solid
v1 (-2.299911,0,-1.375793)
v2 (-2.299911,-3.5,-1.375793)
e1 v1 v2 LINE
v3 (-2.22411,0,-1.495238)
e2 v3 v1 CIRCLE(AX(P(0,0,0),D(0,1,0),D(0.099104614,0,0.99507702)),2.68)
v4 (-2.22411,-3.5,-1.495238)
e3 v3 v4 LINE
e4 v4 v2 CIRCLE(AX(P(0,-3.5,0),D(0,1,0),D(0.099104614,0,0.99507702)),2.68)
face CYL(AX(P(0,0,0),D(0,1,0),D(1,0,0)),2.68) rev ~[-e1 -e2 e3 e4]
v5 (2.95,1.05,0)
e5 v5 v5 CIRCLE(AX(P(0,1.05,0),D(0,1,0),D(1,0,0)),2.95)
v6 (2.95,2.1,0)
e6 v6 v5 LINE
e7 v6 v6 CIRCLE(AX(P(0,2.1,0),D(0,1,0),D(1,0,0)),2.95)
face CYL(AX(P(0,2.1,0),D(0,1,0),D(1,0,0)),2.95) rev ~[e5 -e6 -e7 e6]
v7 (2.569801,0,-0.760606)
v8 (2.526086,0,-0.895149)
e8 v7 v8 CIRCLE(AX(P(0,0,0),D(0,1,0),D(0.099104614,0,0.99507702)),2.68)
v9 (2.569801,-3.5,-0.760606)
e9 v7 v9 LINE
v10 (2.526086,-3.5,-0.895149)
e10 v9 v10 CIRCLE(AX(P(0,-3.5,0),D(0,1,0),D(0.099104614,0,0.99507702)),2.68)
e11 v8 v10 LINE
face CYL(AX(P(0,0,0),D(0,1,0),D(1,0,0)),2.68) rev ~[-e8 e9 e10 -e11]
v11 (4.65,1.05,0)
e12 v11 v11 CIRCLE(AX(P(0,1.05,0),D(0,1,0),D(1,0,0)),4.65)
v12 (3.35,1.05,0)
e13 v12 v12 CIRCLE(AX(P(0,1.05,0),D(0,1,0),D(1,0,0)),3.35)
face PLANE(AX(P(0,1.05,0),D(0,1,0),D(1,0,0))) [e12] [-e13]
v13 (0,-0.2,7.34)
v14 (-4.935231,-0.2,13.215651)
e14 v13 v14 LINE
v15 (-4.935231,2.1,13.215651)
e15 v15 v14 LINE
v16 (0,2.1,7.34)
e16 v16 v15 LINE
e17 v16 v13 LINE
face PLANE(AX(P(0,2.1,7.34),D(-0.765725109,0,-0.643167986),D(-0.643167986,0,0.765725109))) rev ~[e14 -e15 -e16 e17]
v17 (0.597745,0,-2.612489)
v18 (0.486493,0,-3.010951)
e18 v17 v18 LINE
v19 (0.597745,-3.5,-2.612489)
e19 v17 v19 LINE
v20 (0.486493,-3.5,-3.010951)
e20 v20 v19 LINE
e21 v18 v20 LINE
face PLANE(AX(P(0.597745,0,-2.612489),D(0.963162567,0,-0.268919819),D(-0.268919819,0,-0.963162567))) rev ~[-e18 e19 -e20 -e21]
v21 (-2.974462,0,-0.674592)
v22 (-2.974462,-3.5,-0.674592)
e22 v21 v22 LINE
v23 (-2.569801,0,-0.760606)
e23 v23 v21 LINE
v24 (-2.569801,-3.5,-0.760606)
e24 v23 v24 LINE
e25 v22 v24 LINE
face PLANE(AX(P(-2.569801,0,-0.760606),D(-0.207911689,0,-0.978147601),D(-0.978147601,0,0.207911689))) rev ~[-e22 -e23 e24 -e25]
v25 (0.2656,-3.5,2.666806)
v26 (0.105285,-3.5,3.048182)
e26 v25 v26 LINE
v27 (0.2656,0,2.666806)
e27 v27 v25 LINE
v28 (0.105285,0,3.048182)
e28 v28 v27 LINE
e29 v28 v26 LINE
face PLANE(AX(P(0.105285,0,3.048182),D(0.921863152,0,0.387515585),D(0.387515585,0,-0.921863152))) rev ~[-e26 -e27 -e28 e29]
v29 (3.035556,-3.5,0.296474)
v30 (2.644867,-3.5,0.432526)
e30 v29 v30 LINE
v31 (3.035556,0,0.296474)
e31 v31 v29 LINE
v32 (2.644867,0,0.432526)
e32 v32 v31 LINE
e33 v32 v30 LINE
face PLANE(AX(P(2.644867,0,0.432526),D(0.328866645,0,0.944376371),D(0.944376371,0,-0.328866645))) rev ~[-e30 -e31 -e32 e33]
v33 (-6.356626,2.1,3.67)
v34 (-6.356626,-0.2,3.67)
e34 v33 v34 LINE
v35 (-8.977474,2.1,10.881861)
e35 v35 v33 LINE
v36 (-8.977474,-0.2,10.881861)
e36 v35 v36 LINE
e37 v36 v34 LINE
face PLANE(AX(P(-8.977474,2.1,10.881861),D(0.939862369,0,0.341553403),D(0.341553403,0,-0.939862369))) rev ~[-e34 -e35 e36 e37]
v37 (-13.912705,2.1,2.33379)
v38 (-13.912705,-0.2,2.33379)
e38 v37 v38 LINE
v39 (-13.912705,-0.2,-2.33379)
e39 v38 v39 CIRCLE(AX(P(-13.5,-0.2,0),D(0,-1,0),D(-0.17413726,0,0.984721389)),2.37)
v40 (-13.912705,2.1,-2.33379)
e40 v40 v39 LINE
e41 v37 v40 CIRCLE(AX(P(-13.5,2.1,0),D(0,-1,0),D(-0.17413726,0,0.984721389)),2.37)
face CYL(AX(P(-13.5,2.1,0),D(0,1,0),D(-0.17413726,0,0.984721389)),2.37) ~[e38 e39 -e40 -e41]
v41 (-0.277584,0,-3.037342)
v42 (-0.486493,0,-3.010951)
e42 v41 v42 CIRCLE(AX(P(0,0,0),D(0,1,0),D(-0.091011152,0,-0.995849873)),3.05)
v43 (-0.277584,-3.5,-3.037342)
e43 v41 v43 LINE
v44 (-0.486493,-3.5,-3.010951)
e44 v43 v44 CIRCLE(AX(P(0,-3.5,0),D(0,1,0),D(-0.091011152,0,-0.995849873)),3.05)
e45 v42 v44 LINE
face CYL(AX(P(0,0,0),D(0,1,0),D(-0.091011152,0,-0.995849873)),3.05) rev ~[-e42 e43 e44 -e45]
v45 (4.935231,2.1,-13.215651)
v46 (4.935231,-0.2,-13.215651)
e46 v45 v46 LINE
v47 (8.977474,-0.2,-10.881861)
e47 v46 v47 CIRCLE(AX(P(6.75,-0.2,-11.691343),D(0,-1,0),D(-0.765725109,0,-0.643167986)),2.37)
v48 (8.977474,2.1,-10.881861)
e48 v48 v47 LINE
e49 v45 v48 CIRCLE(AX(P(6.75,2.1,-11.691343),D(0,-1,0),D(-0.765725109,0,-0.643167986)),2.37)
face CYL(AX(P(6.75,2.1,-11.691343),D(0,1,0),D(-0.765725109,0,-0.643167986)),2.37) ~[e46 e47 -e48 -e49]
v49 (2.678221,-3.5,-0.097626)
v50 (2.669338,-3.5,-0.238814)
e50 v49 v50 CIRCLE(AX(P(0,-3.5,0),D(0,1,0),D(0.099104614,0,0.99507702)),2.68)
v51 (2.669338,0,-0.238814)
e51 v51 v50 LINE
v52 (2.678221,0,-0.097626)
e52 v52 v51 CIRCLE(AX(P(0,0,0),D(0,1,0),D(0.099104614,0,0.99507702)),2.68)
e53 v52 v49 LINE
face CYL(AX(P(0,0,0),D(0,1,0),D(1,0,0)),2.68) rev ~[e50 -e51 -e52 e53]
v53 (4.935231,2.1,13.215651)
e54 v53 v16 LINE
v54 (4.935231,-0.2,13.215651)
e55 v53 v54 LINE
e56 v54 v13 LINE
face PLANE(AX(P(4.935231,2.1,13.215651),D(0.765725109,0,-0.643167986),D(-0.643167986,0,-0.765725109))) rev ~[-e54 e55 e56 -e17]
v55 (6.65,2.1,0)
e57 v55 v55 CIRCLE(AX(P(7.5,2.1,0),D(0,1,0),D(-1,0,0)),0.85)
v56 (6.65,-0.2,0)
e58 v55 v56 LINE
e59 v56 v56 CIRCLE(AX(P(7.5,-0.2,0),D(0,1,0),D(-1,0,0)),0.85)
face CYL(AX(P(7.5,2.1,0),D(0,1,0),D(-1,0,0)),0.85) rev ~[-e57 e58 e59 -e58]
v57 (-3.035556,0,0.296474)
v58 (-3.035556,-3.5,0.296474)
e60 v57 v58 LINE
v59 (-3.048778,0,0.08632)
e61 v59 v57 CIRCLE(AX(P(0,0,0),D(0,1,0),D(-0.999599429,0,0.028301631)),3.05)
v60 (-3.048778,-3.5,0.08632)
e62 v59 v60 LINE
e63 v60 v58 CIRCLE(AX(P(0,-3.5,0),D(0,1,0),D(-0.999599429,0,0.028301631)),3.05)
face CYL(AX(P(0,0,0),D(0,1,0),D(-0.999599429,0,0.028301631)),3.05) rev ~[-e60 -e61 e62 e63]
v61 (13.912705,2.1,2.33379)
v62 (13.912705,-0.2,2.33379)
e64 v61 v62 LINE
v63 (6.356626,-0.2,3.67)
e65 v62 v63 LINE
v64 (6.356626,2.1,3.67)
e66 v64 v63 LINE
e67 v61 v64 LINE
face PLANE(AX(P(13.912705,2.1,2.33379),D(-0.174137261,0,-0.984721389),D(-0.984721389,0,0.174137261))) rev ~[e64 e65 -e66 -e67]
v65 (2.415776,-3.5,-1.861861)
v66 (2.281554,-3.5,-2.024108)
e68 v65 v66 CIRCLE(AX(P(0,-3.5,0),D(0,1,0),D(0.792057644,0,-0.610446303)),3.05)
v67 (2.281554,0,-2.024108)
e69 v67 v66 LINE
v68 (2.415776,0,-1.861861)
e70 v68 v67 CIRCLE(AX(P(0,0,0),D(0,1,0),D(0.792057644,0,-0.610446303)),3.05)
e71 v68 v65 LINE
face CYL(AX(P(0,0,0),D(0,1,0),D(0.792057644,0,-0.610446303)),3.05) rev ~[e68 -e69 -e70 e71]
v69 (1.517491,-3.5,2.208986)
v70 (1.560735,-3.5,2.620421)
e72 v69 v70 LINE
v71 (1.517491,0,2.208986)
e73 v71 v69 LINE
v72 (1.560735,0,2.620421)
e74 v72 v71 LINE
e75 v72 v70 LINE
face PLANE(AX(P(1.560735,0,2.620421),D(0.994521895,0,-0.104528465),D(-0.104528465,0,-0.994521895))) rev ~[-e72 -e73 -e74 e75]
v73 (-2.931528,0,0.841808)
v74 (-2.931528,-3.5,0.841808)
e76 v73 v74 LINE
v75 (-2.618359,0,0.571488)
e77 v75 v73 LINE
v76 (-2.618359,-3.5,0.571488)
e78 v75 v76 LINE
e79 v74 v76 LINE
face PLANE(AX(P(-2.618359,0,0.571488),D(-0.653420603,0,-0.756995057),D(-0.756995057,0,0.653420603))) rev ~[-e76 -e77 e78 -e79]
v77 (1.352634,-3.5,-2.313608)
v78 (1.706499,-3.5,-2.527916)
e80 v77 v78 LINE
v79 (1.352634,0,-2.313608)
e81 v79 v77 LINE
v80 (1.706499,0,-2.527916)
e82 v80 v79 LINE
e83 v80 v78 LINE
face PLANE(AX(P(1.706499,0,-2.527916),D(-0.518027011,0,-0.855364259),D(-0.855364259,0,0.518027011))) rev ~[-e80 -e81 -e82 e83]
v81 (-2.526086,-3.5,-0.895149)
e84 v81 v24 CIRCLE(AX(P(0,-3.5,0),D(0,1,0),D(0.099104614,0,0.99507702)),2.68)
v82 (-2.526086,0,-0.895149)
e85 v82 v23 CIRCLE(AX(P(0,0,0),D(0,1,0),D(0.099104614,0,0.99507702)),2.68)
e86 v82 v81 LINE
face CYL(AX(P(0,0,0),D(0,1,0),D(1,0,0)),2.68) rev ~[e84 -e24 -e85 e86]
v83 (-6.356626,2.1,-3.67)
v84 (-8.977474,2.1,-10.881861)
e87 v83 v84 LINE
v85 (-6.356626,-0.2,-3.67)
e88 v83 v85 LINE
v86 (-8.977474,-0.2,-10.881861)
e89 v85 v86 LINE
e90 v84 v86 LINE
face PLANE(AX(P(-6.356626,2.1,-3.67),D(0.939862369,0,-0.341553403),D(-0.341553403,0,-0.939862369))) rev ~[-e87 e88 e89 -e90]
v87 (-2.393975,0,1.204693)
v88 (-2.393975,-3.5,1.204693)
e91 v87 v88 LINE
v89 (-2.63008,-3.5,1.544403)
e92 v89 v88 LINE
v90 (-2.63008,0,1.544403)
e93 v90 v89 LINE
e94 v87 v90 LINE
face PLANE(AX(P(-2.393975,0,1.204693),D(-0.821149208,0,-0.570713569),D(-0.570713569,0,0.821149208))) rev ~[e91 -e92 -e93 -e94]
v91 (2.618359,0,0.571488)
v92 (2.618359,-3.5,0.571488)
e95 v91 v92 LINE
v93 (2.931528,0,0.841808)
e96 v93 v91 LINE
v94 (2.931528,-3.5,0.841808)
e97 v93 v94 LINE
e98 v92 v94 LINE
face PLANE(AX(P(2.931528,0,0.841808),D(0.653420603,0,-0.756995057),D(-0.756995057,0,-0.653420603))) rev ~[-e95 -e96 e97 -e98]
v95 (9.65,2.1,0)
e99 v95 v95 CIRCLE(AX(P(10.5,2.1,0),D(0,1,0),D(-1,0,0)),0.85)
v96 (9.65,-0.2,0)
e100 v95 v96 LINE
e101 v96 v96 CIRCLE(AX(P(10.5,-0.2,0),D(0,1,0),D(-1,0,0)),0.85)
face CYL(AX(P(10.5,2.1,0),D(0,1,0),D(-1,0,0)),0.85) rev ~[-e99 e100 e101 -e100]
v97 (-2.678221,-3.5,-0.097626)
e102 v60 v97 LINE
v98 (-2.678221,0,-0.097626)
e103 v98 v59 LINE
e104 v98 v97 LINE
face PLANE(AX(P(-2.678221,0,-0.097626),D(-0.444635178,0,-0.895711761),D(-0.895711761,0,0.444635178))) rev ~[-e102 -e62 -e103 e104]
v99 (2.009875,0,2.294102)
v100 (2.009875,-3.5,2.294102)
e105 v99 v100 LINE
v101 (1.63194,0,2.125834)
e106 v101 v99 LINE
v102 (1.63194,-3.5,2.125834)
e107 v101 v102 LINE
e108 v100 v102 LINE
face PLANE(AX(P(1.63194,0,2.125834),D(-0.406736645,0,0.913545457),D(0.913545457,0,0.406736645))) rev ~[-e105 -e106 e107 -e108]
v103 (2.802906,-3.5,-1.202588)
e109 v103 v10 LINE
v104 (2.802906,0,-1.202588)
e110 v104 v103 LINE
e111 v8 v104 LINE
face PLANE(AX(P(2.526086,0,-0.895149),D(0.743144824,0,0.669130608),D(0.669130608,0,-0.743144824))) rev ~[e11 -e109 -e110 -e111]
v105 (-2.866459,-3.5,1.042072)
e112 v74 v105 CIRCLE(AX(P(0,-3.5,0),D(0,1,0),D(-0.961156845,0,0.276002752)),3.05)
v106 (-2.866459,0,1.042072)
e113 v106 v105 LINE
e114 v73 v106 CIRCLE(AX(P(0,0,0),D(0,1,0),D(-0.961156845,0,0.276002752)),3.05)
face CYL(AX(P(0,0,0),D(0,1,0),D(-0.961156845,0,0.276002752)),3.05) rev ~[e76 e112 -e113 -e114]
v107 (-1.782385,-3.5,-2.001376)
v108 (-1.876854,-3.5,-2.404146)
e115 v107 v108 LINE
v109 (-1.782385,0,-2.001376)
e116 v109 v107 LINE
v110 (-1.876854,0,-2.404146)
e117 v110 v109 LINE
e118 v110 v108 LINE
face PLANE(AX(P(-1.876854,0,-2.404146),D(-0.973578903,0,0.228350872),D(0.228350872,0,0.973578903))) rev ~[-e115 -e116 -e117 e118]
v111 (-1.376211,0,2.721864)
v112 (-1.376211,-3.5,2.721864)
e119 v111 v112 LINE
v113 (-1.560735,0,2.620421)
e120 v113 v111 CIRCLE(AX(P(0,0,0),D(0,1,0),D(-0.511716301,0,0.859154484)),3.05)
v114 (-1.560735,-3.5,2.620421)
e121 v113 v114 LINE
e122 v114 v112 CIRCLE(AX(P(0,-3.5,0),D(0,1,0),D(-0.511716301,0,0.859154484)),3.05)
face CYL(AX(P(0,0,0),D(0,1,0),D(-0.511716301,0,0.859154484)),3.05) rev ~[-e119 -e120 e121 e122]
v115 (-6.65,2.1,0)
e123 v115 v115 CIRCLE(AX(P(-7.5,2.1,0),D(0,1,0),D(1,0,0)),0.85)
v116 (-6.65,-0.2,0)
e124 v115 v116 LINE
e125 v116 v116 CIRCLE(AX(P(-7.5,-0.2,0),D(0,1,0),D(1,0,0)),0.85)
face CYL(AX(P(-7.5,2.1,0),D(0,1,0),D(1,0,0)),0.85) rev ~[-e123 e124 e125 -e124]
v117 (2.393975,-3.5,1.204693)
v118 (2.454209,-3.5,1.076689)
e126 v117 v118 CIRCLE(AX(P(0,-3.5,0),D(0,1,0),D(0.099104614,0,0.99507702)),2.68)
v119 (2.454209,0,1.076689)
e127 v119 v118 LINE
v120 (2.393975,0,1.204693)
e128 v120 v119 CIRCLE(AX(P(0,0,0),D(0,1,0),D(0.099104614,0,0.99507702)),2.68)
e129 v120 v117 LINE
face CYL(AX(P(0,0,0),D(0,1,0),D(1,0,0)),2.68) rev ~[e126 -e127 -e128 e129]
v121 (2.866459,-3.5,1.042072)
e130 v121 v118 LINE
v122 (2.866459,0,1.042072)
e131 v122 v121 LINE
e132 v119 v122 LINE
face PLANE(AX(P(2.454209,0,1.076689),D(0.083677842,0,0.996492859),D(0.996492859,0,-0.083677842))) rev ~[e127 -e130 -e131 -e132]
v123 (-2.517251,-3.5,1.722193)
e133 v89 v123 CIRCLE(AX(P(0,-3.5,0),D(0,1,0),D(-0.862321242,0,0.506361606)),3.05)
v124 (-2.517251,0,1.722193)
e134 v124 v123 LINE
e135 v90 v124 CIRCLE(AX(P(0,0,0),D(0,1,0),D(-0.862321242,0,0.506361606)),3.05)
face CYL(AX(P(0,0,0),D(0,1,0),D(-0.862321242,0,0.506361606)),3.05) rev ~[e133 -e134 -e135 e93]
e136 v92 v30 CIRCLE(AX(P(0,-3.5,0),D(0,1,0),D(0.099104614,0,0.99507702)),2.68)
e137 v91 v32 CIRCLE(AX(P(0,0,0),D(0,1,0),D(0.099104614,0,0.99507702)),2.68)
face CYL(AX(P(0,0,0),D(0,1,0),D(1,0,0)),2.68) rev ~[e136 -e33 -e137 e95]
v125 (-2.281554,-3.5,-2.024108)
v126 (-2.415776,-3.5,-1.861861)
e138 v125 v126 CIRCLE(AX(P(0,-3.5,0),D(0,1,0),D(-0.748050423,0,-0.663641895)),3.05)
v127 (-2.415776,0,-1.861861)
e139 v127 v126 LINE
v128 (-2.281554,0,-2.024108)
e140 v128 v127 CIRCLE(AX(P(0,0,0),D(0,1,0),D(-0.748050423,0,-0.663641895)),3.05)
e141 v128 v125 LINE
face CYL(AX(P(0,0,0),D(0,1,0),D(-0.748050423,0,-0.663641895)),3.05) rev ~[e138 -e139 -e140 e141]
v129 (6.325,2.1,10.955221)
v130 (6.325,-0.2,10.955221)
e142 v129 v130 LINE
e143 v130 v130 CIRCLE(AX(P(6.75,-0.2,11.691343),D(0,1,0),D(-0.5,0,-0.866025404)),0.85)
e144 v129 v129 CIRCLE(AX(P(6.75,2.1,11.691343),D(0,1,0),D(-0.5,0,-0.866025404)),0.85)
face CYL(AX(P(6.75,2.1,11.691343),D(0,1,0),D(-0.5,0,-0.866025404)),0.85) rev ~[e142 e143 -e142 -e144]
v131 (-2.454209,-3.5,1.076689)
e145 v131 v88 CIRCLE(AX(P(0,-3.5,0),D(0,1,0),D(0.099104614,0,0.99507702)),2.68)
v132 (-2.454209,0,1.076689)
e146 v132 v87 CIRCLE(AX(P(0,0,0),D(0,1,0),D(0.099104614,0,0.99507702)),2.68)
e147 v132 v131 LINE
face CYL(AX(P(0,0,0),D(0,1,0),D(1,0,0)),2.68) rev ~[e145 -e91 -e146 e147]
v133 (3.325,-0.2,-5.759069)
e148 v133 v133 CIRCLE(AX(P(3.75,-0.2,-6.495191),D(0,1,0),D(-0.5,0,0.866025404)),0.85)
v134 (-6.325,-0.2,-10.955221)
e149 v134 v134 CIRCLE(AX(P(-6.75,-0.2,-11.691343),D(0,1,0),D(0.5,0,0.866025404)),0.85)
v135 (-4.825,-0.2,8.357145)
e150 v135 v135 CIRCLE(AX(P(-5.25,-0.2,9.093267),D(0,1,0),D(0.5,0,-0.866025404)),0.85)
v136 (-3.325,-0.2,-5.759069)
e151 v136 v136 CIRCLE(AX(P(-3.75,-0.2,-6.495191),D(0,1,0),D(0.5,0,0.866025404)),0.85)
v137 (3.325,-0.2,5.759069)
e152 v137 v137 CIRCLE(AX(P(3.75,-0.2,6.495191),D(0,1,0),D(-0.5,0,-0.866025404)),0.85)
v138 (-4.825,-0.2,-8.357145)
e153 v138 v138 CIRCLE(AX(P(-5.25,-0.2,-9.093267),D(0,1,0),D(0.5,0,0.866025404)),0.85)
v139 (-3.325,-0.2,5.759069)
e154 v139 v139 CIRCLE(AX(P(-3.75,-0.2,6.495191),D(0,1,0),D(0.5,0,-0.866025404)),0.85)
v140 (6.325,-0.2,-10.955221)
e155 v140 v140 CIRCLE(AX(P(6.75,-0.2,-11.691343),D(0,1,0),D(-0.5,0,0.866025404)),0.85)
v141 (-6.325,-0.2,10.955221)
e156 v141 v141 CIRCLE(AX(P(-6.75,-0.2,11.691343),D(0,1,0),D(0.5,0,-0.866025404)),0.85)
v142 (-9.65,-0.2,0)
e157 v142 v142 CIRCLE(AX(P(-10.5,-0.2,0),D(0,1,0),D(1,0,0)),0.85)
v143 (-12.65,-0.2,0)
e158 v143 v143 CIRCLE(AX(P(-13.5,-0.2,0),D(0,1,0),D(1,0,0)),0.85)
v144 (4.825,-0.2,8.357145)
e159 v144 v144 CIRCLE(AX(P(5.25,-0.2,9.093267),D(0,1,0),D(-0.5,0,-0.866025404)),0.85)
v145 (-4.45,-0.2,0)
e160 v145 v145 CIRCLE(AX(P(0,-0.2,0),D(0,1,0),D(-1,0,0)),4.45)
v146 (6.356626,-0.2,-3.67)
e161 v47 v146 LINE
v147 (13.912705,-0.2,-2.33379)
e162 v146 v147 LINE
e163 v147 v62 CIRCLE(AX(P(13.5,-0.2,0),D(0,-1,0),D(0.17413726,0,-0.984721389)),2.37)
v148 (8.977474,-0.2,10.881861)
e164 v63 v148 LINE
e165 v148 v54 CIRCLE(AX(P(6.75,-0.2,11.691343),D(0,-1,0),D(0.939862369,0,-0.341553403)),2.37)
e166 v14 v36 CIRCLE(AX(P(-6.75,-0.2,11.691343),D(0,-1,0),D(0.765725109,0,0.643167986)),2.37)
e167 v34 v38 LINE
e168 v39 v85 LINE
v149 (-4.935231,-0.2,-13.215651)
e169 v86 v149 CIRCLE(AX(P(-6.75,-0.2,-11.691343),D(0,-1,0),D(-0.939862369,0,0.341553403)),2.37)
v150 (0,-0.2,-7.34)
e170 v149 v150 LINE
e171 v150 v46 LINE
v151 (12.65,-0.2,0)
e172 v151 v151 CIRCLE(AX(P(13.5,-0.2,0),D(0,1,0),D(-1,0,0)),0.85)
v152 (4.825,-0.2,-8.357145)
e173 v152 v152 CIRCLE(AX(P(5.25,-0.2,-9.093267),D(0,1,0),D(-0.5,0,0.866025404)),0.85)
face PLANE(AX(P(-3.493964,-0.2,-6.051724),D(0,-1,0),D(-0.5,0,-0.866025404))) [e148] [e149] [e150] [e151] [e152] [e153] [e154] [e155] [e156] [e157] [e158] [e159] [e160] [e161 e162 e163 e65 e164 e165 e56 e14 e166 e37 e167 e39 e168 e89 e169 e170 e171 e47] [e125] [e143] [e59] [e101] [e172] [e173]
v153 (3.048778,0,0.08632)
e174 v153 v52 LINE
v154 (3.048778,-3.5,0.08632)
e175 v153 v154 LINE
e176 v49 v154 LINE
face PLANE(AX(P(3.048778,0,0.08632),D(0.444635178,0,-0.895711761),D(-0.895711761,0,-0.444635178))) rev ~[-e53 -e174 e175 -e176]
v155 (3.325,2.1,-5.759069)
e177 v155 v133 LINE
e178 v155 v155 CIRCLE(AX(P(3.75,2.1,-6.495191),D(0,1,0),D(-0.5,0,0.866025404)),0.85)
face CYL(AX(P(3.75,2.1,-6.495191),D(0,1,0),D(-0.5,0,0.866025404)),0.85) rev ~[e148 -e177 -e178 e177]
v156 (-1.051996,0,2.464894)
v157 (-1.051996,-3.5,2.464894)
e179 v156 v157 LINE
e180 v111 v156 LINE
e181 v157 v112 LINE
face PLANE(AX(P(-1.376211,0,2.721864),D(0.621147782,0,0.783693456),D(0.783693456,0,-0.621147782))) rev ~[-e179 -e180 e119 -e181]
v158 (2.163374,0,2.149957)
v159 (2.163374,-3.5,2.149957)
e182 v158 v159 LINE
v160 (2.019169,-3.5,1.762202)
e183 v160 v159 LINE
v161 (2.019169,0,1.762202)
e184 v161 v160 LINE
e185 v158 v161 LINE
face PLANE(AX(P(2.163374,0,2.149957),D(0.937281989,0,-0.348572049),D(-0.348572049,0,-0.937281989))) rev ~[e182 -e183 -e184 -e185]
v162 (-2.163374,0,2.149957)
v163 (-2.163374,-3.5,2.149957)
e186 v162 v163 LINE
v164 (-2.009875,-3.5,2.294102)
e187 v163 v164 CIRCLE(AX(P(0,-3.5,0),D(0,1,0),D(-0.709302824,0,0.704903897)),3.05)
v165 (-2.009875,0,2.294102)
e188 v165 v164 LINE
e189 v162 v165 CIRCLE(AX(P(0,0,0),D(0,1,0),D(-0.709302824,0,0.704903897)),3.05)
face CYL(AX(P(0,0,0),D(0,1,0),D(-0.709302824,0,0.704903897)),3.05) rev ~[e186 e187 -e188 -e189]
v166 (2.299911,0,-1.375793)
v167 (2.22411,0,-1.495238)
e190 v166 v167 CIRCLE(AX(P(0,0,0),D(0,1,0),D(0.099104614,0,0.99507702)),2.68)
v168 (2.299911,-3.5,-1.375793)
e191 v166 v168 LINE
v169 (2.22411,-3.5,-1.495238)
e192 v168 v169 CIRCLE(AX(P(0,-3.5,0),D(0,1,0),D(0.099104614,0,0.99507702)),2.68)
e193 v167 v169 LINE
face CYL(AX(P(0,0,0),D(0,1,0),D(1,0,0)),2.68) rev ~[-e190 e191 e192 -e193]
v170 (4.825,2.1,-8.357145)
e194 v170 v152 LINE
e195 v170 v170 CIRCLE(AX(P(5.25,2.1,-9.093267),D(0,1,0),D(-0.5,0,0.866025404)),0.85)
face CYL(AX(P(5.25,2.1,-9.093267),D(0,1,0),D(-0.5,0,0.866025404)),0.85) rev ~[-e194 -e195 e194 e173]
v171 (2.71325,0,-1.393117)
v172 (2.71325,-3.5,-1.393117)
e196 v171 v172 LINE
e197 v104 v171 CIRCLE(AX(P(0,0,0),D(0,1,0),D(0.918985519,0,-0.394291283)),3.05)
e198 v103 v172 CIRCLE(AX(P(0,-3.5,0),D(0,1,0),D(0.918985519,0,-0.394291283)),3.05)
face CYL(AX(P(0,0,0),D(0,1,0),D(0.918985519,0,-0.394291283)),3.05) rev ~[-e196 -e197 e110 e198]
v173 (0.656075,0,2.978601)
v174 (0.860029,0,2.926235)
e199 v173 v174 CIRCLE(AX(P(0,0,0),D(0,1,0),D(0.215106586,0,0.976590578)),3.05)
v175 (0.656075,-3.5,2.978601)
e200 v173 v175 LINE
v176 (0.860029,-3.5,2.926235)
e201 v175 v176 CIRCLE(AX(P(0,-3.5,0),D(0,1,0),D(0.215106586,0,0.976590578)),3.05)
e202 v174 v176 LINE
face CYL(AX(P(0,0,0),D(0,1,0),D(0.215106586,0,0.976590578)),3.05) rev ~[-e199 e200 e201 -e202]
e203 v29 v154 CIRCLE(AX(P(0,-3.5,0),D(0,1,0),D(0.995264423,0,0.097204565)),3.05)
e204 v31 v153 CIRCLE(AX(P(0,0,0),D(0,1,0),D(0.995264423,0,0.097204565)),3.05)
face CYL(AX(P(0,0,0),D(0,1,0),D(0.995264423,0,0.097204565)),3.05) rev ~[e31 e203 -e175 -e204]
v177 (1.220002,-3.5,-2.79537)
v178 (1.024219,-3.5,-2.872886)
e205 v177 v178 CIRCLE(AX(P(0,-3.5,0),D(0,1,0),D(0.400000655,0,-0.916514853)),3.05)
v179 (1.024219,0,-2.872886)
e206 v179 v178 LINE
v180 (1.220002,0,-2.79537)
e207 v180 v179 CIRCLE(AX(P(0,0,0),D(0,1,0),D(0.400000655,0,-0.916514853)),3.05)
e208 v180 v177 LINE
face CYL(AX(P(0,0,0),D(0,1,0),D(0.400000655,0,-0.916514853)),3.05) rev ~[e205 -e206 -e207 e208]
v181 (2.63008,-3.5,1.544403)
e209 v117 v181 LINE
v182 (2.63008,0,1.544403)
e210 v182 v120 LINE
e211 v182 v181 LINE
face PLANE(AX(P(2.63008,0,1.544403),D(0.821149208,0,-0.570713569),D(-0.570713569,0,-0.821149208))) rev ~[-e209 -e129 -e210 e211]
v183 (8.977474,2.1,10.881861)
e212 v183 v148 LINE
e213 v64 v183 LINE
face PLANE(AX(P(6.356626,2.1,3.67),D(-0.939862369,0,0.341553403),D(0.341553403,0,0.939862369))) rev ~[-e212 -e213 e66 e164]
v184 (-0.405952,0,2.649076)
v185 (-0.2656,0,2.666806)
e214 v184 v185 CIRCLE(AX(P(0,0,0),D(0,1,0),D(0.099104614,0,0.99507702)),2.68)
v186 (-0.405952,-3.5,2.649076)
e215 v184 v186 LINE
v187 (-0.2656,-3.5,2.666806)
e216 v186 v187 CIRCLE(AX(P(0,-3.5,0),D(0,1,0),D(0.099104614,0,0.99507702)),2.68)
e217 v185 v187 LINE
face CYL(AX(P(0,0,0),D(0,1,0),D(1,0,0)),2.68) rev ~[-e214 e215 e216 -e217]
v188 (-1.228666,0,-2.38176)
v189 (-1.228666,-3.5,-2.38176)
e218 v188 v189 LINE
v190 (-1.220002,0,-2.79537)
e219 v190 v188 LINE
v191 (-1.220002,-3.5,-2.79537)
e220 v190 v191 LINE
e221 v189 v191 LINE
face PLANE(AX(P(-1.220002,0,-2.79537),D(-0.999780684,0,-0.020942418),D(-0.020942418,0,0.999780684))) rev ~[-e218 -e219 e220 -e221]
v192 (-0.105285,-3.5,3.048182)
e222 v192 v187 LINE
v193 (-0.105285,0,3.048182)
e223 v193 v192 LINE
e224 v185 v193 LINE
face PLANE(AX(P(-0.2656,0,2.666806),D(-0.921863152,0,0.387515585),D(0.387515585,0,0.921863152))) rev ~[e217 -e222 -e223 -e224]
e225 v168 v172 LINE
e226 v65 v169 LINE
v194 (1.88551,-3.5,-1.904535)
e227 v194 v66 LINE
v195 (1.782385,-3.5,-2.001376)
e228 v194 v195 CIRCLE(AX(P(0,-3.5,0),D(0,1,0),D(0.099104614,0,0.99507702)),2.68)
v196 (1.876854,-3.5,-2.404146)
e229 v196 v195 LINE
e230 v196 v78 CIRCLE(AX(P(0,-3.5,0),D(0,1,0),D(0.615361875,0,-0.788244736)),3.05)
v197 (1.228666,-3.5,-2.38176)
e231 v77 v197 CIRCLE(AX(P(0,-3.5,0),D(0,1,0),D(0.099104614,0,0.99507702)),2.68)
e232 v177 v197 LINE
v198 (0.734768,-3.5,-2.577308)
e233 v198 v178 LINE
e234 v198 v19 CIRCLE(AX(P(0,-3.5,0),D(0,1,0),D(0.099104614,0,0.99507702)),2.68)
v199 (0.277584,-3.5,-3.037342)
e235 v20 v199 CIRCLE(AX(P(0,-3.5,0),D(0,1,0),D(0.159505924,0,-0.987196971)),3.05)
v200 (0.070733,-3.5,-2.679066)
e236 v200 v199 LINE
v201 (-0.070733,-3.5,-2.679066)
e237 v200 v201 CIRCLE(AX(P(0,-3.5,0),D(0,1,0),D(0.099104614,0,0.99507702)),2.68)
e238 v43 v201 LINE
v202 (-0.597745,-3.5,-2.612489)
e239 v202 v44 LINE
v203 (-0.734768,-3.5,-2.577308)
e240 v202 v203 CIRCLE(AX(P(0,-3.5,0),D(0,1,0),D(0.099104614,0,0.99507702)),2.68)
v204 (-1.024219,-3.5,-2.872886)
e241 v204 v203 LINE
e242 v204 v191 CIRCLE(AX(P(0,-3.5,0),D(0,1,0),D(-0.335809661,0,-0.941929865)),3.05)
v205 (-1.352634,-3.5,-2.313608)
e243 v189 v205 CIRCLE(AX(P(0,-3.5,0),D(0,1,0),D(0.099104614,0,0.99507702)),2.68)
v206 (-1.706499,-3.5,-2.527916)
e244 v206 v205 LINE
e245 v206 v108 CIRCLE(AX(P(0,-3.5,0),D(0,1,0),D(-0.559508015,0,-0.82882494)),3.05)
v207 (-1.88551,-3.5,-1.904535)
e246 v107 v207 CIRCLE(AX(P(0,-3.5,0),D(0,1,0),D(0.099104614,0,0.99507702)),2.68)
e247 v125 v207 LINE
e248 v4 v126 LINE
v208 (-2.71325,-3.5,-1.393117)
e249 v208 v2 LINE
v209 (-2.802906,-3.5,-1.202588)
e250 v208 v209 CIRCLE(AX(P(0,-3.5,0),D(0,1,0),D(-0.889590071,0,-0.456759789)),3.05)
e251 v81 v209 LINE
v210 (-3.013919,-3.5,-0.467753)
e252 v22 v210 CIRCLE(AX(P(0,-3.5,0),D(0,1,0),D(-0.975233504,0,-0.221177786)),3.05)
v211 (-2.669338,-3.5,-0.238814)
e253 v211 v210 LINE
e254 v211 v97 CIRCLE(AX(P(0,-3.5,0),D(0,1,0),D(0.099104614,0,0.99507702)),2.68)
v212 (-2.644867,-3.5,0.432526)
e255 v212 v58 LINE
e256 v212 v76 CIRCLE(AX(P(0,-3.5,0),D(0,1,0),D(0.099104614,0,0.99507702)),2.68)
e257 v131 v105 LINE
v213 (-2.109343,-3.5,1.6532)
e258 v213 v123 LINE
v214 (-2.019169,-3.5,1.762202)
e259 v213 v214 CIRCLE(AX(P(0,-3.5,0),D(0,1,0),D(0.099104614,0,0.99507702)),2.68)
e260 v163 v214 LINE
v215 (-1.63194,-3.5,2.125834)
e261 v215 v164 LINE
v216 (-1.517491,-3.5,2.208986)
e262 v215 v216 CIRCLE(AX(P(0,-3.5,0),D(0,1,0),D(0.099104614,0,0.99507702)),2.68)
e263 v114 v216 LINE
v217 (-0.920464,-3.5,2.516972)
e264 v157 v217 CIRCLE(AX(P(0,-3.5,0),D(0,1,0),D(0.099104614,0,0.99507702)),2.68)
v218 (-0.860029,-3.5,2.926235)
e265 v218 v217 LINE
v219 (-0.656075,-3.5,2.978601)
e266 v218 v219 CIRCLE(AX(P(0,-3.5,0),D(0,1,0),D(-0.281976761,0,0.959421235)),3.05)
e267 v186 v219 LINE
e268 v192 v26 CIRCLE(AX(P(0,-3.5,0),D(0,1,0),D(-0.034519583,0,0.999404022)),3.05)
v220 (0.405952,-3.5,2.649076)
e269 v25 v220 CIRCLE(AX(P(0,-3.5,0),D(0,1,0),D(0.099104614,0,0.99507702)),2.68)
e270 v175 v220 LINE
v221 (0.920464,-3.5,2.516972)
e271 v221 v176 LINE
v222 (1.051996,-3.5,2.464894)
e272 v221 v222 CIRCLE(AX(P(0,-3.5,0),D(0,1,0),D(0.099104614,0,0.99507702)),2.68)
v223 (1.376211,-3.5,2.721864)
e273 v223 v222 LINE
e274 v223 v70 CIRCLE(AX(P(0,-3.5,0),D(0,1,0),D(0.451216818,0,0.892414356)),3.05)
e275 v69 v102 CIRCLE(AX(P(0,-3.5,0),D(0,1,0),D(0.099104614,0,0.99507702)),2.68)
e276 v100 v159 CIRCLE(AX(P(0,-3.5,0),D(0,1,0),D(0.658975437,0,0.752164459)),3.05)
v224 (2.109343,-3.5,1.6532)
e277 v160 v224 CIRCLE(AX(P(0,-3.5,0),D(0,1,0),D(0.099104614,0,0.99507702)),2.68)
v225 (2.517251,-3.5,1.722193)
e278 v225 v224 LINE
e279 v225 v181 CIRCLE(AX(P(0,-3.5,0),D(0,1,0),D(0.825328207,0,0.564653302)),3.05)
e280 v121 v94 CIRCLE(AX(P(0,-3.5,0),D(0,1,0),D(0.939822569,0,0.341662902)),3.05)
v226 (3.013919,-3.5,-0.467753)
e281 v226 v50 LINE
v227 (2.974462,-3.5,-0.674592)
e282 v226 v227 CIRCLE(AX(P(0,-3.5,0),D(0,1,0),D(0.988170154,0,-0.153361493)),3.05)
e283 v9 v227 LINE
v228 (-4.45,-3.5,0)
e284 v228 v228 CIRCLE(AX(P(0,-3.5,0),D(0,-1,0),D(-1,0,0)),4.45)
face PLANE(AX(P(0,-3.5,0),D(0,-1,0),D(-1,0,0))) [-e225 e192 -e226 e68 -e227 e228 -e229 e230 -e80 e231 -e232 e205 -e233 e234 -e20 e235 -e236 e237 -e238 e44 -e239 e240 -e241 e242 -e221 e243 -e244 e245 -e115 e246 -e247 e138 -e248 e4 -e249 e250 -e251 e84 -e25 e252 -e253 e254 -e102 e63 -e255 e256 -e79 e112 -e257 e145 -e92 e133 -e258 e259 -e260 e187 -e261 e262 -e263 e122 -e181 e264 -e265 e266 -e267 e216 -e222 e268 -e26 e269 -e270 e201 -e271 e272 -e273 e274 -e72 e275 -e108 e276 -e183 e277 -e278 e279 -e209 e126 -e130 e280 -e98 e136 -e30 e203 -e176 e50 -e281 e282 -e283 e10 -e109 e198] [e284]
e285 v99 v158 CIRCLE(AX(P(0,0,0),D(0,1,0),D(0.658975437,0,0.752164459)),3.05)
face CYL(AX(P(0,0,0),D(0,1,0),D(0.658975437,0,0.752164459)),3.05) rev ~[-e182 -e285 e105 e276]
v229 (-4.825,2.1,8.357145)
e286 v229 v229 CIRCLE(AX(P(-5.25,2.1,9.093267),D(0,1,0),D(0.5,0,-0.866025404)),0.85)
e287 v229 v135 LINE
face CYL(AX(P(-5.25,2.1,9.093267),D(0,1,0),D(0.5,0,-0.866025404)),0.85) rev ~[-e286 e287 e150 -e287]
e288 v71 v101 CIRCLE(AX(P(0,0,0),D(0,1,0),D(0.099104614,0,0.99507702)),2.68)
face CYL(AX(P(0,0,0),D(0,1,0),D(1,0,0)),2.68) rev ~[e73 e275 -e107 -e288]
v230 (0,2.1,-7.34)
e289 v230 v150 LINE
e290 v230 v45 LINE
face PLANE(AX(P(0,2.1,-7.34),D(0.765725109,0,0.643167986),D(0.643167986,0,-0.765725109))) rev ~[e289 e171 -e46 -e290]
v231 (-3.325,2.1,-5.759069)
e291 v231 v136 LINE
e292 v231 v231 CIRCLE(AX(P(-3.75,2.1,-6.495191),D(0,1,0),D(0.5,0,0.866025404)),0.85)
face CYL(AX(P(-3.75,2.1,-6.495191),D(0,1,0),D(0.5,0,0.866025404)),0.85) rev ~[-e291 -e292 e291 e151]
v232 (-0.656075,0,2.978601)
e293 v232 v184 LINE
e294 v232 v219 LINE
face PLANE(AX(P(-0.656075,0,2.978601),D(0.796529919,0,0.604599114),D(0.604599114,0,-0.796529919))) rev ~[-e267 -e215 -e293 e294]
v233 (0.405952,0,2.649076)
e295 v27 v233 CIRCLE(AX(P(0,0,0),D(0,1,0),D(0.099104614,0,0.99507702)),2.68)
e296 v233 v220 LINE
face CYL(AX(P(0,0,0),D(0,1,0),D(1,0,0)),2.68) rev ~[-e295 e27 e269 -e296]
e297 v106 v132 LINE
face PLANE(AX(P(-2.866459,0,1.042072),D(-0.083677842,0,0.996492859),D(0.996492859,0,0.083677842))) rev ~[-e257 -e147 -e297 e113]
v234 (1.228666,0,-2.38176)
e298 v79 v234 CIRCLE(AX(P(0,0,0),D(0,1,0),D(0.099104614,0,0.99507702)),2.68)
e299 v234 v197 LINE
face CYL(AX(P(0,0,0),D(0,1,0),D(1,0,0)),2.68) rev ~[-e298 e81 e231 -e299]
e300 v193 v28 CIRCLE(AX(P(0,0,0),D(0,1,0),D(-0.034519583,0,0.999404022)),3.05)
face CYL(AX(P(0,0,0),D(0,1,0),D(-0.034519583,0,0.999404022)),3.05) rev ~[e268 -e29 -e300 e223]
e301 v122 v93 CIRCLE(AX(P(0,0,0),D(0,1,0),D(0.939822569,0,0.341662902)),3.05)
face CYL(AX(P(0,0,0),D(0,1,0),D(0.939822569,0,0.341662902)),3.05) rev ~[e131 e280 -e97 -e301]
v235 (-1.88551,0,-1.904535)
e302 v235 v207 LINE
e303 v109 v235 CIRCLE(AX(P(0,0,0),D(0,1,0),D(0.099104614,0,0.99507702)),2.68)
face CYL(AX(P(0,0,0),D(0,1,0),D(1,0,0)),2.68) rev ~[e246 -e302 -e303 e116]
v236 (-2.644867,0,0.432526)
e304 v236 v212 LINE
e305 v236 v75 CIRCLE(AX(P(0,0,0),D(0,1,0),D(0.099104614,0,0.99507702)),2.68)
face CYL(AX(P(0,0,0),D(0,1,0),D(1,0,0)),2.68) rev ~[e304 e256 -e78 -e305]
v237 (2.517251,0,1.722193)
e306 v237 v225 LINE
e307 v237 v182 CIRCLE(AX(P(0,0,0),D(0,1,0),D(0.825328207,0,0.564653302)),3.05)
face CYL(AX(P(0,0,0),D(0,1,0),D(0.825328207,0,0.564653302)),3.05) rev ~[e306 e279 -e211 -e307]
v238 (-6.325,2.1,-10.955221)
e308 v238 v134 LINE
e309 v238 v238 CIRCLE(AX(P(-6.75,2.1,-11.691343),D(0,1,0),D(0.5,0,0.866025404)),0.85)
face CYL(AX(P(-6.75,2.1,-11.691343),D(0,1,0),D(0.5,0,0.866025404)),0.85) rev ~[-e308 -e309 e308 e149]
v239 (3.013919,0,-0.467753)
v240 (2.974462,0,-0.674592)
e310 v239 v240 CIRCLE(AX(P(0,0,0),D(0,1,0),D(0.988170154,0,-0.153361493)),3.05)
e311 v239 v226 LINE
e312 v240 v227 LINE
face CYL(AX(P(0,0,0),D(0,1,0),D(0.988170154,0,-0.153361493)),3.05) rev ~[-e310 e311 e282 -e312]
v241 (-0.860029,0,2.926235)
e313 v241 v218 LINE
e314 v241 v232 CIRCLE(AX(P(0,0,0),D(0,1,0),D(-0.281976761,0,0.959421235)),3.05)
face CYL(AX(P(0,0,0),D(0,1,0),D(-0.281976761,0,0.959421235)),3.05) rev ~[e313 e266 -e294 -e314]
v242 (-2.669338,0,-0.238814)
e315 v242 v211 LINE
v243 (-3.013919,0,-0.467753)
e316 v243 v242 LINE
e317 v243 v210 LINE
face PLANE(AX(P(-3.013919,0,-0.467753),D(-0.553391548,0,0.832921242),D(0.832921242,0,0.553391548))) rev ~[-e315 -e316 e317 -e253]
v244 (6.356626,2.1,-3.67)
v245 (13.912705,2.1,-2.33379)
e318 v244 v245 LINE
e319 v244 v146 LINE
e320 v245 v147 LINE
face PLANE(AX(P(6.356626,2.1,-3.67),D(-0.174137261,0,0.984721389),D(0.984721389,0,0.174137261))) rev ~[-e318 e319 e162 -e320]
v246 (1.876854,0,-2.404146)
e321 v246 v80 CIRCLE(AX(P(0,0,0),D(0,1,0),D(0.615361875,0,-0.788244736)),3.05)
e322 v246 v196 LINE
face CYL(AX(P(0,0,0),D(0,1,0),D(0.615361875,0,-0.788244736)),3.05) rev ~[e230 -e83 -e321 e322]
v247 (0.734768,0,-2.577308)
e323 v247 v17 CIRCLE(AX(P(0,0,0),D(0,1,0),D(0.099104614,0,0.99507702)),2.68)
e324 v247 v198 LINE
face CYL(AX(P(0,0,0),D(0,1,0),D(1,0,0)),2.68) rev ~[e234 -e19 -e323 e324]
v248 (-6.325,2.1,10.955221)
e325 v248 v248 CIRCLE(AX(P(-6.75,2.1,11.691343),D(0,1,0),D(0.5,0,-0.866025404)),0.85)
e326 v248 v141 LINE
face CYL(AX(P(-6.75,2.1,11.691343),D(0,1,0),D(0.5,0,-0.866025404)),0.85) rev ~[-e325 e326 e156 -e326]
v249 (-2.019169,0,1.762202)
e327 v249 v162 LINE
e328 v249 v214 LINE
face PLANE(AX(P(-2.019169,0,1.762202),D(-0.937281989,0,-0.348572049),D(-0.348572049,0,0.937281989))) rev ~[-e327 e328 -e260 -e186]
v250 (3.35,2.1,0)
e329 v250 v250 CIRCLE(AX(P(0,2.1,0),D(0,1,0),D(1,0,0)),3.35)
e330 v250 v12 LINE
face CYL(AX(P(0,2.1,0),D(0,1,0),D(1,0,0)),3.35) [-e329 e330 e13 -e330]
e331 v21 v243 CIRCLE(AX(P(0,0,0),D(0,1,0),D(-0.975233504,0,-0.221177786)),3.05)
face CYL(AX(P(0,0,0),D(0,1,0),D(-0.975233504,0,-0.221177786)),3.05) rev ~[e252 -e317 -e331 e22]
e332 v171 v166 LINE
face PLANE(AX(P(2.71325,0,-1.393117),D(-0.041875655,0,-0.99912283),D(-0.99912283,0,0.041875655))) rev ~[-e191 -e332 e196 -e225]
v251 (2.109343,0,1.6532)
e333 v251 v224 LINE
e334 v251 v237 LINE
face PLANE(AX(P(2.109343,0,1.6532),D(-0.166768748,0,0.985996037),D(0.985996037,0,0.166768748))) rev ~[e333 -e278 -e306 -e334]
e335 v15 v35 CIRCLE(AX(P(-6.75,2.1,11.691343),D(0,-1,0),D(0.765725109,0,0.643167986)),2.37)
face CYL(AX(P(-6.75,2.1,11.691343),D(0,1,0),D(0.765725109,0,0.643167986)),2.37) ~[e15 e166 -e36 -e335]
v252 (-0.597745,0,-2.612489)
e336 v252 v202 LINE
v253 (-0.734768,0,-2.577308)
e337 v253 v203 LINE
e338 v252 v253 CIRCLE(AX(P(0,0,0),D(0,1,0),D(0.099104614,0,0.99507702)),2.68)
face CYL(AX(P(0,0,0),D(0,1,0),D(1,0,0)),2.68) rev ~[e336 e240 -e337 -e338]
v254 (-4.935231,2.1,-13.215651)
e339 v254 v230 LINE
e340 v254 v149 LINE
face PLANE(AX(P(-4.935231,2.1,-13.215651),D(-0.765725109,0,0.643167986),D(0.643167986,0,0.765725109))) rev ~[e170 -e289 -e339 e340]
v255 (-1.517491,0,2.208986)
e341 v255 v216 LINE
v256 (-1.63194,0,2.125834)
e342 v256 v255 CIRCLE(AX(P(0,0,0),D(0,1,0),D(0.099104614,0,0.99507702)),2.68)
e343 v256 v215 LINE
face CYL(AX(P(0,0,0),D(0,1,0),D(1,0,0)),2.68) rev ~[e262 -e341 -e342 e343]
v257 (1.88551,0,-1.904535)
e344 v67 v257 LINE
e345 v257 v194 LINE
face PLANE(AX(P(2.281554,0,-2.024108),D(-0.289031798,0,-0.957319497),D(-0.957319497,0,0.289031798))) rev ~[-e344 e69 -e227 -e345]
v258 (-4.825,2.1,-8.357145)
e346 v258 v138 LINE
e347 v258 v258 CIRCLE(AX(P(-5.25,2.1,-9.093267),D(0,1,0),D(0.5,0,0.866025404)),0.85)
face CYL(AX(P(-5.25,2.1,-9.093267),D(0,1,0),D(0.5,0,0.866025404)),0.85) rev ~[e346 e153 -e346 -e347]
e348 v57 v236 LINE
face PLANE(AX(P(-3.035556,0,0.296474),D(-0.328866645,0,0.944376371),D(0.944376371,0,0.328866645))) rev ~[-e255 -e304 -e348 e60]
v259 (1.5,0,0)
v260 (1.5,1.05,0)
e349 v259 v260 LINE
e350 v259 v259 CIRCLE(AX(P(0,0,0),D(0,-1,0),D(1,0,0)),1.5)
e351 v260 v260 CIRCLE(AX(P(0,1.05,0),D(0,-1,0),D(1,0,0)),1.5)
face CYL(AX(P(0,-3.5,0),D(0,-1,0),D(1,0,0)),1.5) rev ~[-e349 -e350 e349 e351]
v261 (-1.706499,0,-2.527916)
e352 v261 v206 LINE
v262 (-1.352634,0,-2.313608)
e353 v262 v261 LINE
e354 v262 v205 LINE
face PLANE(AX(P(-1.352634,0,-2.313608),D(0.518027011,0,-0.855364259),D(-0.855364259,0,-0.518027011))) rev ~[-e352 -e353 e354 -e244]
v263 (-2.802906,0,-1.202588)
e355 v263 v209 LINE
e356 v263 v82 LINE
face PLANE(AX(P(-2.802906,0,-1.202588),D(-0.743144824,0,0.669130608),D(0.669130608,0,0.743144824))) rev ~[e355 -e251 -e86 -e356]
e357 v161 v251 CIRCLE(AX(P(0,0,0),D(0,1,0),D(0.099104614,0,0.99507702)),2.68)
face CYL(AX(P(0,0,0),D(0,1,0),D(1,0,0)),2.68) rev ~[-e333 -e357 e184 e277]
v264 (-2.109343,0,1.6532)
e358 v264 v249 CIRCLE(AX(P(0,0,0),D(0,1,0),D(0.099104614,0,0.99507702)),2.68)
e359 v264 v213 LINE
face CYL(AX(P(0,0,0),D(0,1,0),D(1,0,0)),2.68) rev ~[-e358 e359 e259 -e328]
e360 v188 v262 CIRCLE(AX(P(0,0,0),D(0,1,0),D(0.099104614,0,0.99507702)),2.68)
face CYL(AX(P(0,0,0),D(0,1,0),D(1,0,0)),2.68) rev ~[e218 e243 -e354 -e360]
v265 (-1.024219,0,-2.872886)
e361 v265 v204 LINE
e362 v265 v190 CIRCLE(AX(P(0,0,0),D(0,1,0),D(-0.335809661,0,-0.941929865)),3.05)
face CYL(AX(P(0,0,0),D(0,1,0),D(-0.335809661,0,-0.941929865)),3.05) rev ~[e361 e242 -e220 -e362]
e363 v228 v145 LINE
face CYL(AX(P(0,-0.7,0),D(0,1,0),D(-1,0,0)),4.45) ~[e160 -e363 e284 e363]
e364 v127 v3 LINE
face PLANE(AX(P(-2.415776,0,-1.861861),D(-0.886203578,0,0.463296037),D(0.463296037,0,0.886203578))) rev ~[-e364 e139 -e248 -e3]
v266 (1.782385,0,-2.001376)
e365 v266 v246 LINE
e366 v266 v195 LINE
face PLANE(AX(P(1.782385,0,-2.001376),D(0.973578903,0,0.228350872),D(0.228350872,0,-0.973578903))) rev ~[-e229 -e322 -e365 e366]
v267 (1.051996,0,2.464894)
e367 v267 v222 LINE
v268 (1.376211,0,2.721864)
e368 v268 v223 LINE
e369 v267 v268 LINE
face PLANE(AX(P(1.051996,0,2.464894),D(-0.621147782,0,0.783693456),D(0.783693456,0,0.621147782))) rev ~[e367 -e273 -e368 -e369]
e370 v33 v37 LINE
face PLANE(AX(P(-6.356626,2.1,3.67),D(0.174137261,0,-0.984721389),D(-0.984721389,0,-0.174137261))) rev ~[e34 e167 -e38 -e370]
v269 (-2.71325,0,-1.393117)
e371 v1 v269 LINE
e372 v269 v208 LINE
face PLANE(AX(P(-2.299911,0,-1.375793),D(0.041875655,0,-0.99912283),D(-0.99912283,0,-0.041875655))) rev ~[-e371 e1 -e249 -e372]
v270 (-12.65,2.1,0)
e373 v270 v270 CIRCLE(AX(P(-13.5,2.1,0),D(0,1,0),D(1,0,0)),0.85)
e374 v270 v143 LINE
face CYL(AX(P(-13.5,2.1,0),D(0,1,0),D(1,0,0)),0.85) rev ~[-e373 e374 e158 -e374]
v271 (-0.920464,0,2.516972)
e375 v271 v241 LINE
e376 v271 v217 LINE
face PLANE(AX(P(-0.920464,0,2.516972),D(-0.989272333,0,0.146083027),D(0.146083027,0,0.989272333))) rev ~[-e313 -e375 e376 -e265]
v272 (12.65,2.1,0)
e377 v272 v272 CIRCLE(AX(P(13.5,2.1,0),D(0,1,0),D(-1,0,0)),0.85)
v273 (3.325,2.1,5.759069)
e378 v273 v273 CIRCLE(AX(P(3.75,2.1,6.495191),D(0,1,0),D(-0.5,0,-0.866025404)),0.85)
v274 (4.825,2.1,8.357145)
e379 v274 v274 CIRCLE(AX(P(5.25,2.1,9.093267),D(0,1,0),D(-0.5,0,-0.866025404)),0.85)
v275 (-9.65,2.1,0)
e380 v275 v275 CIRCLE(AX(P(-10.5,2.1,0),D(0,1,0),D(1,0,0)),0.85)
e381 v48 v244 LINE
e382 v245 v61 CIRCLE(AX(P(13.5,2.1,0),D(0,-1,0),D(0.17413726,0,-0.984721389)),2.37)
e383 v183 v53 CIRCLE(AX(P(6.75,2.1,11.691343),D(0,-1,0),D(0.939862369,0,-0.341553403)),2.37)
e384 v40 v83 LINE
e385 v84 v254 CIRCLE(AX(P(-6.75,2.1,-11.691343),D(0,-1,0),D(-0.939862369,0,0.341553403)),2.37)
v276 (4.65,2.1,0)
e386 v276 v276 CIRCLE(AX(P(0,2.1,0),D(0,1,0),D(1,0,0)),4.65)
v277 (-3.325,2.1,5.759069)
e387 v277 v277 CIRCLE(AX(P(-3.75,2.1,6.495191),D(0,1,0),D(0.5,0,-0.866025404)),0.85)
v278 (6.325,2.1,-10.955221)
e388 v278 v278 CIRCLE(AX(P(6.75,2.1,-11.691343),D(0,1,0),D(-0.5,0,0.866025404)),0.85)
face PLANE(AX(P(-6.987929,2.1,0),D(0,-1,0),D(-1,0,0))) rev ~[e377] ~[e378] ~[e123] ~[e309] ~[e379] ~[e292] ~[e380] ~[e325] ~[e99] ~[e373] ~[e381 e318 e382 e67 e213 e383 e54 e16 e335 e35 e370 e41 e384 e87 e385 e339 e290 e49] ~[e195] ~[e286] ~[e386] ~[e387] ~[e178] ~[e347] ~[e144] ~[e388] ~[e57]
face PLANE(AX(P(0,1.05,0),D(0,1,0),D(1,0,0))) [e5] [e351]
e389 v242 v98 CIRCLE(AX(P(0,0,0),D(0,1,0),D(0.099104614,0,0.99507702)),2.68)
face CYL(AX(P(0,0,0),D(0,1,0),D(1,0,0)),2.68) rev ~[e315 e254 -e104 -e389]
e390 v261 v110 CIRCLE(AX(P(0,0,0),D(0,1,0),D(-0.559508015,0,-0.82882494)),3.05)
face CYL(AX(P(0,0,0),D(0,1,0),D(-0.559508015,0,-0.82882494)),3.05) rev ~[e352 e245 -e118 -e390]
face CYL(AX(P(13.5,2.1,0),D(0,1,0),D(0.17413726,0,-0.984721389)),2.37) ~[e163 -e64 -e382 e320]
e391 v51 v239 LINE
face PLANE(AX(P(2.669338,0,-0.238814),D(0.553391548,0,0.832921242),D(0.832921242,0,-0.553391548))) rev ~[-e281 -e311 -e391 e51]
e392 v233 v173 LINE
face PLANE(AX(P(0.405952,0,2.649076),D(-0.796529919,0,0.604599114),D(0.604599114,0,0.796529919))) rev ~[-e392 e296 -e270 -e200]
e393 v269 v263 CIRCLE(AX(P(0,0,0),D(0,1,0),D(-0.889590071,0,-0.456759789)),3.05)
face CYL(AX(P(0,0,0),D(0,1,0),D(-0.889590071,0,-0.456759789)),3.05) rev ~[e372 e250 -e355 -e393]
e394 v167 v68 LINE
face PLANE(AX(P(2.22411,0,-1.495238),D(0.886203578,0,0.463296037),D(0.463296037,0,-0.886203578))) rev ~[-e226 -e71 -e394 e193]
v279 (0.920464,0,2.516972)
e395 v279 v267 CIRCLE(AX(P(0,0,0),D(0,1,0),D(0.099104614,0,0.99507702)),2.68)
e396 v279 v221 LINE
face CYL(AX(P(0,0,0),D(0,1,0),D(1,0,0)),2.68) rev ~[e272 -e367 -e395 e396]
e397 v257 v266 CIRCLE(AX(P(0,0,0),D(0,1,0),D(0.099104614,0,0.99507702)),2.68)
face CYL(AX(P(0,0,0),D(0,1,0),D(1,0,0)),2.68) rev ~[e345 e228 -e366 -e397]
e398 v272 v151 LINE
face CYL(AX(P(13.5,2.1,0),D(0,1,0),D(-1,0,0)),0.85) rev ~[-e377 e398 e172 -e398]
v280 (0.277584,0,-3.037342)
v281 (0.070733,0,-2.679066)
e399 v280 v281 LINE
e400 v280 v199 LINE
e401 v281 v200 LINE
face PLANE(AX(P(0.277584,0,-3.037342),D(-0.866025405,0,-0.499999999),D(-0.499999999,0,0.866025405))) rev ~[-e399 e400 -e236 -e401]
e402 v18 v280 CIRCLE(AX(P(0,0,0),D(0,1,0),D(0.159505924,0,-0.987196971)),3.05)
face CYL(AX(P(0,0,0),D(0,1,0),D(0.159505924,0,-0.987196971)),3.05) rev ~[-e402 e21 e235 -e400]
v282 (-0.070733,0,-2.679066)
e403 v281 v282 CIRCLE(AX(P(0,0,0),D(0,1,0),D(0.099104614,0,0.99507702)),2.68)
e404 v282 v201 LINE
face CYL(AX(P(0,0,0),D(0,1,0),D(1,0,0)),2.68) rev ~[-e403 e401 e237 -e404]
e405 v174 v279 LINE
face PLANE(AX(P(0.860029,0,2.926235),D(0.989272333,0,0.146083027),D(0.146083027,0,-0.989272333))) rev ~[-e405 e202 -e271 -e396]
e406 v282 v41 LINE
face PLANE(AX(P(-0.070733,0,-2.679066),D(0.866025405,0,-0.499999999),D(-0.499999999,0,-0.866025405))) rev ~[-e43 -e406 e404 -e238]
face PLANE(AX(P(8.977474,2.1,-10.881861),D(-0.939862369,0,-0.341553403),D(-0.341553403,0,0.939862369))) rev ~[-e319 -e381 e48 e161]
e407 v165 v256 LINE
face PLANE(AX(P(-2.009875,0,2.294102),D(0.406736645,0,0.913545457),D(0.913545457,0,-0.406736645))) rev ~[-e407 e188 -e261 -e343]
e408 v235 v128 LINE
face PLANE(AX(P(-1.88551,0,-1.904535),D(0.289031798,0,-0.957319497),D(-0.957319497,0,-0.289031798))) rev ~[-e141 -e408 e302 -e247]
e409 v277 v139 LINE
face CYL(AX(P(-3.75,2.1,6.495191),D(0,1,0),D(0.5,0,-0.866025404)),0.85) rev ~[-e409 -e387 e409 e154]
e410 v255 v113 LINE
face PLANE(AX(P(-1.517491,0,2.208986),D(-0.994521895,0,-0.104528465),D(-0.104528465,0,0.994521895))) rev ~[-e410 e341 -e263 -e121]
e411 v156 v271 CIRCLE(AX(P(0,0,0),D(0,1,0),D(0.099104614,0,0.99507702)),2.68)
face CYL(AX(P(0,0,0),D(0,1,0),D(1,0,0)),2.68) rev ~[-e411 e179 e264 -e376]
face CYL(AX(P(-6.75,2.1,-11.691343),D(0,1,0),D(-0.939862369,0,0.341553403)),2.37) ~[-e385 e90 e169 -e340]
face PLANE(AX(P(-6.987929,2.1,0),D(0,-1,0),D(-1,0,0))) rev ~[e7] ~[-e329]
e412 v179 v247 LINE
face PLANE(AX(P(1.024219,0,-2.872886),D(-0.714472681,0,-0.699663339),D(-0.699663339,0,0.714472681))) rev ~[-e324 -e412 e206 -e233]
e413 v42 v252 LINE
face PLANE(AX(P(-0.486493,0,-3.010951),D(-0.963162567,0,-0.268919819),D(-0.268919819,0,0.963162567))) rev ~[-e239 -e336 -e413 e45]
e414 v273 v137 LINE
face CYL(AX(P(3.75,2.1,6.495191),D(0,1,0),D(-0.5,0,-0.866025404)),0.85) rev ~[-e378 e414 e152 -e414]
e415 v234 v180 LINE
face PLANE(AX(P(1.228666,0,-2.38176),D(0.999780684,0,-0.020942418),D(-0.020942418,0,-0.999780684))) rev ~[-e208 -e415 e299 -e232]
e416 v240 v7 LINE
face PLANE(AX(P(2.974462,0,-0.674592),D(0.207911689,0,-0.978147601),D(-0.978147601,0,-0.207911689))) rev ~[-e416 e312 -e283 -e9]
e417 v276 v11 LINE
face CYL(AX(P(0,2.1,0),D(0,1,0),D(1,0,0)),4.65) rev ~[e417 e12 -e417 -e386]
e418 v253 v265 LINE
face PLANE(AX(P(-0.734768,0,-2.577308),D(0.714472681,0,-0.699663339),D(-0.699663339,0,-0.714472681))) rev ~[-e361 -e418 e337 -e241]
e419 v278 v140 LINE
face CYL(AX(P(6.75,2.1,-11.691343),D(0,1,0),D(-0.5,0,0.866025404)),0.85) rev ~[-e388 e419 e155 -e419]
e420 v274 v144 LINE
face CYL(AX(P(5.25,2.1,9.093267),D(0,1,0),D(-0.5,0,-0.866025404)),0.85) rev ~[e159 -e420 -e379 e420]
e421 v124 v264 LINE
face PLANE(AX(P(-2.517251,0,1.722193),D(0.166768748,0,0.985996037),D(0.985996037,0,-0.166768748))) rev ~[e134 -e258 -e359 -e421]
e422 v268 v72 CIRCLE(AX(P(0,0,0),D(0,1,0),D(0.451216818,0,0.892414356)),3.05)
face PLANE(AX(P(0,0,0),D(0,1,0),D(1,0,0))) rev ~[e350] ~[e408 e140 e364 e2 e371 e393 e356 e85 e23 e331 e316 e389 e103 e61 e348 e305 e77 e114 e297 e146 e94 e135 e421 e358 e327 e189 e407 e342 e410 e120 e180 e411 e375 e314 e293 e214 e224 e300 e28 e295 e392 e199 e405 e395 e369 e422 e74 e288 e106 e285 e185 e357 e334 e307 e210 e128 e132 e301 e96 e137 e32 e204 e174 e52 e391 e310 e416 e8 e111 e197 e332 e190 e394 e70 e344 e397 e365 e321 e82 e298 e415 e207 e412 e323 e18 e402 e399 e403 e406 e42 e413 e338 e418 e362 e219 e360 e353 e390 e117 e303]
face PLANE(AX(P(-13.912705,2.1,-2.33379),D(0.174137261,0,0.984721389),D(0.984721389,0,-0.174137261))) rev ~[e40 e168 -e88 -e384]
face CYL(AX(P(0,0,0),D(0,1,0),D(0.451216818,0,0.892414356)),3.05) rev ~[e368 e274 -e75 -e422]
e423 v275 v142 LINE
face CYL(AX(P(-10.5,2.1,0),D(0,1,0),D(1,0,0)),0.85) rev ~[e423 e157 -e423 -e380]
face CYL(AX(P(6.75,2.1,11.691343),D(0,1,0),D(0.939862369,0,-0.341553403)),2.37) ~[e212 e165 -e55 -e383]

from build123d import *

# Parameters (mm, degrees)
ESQUISSE2_W                  = 4.45
ESQUISSE2_H                  = 5.6
ESQUISSE3_R                  = 0.85
BOSS_EXTRU_1_DEPTH           = 2.3
R_P_TITION_CIRCULAIRE2_COUNT = 6
ESQUISSE4_R                  = 2.95
ENL_V_MAT_EXTRU_1_DEPTH      = 1.05
ESQUISSE5_R                  = 4.65
ESQUISSE5_R_2                = 3.35
ENL_V_MAT_EXTRU_2_DEPTH      = 1.05
ESQUISSE6_R                  = 1.5
ENL_V_MAT_EXTRU_3_DEPTH      = 6.6
ESQUISSE8_R                  = 2.68
ENL_V_MAT_EXTRU_4_DEPTH      = 4.5
ENL_V_MAT_EXTRU_5_DEPTH      = 4.5
R_P_TITION_CIRCULAIRE1_COUNT = 25


with BuildPart() as part:
    # Esquisse2 → Révolution1 (revolve)
    with BuildSketch(Plane.XY):
        with Locations((-2.225, -0.7)):
            Rectangle(ESQUISSE2_W, ESQUISSE2_H)
    revolve(axis=Axis((0, 3.929571688, 0), (0, -1, 0)))

    # Esquisse3 → Boss.-Extru.1 (add)
    with BuildSketch(Plane(origin=(0, 2.1, 0), x_dir=(1, 0, 0), z_dir=(0, 1, 0))):
        with BuildLine():
            Line((-6.356626464, 3.67), (0, 3.67))
            Line((0, 3.67), (0, -3.67))
            Line((0, -3.67), (-6.356626464, -3.67))
            Line((-6.356626464, -3.67), (-13.912705307, -2.333789693))
            ThreePointArc((-13.912705307, -2.333789693), (-15.87, 0), (-13.912705307, 2.333789693))
            Line((-13.912705307, 2.333789693), (-6.356626464, 3.67))
        make_face()
        with Locations((-13.5, 0)):
            Circle(ESQUISSE3_R, mode=Mode.SUBTRACT)
        with Locations((-10.5, 0)):
            Circle(ESQUISSE3_R, mode=Mode.SUBTRACT)
        with Locations((-7.5, 0)):
            Circle(ESQUISSE3_R, mode=Mode.SUBTRACT)
    boss_extru_1 = extrude(amount=-BOSS_EXTRU_1_DEPTH)

    # Répétition circulaire2: Boss.-Extru.1 ×6 about axis
    r_p_tition_circulaire2_axis = Axis((0, 0, 0), (0, 1, 0))
    for i in range(1, R_P_TITION_CIRCULAIRE2_COUNT):
        add(boss_extru_1.rotate(r_p_tition_circulaire2_axis, i * 360 / R_P_TITION_CIRCULAIRE2_COUNT))

    # Esquisse4 → Enlèv. mat.-Extru.1 (cut)
    with BuildSketch(Plane(origin=(0, 2.1, 0), x_dir=(1, 0, 0), z_dir=(0, 1, 0))):
        Circle(ESQUISSE4_R)
    extrude(amount=-ENL_V_MAT_EXTRU_1_DEPTH, mode=Mode.SUBTRACT)

    # Esquisse5 → Enlèv. mat.-Extru.2 (cut)
    with BuildSketch(Plane(origin=(0, 2.1, 0), x_dir=(1, 0, 0), z_dir=(0, 1, 0))):
        Circle(ESQUISSE5_R)
        Circle(ESQUISSE5_R_2, mode=Mode.SUBTRACT)
    extrude(amount=-ENL_V_MAT_EXTRU_2_DEPTH, mode=Mode.SUBTRACT)

    # Esquisse6 → Enlèv. mat.-Extru.3 (cut, through all)
    with BuildSketch(Plane.XZ.offset(3.5)):
        Circle(ESQUISSE6_R)
    extrude(amount=-ENL_V_MAT_EXTRU_3_DEPTH, mode=Mode.SUBTRACT)

    # Esquisse8 → Enlèv. mat.-Extru.4 (cut, through all)
    with BuildSketch(Plane(origin=(0, 0, 0), x_dir=(1, 0, 0), z_dir=(0, 1, 0))):
        Circle(ESQUISSE8_R)
    extrude(amount=-ENL_V_MAT_EXTRU_4_DEPTH, mode=Mode.SUBTRACT)

    # Esquisse9 → Enlèv. mat.-Extru.5 (cut, through all)
    with BuildSketch(Plane(origin=(0, 0, 0), x_dir=(1, 0, 0), z_dir=(0, 1, 0))):
        with BuildLine():
            Line((0.10528472, -3.048182266), (0.265600366, -2.666806413))
            ThreePointArc((0.265600366, -2.666806413), (0, -2.68), (-0.265600366, -2.666806413))
            Line((-0.265600366, -2.666806413), (-0.10528472, -3.048182266))
            ThreePointArc((-0.10528472, -3.048182266), (0, -3.05), (0.10528472, -3.048182266))
        make_face()
    enl_v_mat_extru_5 = extrude(amount=-ENL_V_MAT_EXTRU_5_DEPTH, mode=Mode.SUBTRACT)

    # Répétition circulaire1: Enlèv. mat.-Extru.5 ×25 about axis
    r_p_tition_circulaire1_axis = Axis((0, 0, 0), (0, 1, 0))
    for i in range(1, R_P_TITION_CIRCULAIRE1_COUNT):
        add(enl_v_mat_extru_5.rotate(r_p_tition_circulaire1_axis, i * 360 / R_P_TITION_CIRCULAIRE1_COUNT), mode=Mode.SUBTRACT)


solid = part.part
